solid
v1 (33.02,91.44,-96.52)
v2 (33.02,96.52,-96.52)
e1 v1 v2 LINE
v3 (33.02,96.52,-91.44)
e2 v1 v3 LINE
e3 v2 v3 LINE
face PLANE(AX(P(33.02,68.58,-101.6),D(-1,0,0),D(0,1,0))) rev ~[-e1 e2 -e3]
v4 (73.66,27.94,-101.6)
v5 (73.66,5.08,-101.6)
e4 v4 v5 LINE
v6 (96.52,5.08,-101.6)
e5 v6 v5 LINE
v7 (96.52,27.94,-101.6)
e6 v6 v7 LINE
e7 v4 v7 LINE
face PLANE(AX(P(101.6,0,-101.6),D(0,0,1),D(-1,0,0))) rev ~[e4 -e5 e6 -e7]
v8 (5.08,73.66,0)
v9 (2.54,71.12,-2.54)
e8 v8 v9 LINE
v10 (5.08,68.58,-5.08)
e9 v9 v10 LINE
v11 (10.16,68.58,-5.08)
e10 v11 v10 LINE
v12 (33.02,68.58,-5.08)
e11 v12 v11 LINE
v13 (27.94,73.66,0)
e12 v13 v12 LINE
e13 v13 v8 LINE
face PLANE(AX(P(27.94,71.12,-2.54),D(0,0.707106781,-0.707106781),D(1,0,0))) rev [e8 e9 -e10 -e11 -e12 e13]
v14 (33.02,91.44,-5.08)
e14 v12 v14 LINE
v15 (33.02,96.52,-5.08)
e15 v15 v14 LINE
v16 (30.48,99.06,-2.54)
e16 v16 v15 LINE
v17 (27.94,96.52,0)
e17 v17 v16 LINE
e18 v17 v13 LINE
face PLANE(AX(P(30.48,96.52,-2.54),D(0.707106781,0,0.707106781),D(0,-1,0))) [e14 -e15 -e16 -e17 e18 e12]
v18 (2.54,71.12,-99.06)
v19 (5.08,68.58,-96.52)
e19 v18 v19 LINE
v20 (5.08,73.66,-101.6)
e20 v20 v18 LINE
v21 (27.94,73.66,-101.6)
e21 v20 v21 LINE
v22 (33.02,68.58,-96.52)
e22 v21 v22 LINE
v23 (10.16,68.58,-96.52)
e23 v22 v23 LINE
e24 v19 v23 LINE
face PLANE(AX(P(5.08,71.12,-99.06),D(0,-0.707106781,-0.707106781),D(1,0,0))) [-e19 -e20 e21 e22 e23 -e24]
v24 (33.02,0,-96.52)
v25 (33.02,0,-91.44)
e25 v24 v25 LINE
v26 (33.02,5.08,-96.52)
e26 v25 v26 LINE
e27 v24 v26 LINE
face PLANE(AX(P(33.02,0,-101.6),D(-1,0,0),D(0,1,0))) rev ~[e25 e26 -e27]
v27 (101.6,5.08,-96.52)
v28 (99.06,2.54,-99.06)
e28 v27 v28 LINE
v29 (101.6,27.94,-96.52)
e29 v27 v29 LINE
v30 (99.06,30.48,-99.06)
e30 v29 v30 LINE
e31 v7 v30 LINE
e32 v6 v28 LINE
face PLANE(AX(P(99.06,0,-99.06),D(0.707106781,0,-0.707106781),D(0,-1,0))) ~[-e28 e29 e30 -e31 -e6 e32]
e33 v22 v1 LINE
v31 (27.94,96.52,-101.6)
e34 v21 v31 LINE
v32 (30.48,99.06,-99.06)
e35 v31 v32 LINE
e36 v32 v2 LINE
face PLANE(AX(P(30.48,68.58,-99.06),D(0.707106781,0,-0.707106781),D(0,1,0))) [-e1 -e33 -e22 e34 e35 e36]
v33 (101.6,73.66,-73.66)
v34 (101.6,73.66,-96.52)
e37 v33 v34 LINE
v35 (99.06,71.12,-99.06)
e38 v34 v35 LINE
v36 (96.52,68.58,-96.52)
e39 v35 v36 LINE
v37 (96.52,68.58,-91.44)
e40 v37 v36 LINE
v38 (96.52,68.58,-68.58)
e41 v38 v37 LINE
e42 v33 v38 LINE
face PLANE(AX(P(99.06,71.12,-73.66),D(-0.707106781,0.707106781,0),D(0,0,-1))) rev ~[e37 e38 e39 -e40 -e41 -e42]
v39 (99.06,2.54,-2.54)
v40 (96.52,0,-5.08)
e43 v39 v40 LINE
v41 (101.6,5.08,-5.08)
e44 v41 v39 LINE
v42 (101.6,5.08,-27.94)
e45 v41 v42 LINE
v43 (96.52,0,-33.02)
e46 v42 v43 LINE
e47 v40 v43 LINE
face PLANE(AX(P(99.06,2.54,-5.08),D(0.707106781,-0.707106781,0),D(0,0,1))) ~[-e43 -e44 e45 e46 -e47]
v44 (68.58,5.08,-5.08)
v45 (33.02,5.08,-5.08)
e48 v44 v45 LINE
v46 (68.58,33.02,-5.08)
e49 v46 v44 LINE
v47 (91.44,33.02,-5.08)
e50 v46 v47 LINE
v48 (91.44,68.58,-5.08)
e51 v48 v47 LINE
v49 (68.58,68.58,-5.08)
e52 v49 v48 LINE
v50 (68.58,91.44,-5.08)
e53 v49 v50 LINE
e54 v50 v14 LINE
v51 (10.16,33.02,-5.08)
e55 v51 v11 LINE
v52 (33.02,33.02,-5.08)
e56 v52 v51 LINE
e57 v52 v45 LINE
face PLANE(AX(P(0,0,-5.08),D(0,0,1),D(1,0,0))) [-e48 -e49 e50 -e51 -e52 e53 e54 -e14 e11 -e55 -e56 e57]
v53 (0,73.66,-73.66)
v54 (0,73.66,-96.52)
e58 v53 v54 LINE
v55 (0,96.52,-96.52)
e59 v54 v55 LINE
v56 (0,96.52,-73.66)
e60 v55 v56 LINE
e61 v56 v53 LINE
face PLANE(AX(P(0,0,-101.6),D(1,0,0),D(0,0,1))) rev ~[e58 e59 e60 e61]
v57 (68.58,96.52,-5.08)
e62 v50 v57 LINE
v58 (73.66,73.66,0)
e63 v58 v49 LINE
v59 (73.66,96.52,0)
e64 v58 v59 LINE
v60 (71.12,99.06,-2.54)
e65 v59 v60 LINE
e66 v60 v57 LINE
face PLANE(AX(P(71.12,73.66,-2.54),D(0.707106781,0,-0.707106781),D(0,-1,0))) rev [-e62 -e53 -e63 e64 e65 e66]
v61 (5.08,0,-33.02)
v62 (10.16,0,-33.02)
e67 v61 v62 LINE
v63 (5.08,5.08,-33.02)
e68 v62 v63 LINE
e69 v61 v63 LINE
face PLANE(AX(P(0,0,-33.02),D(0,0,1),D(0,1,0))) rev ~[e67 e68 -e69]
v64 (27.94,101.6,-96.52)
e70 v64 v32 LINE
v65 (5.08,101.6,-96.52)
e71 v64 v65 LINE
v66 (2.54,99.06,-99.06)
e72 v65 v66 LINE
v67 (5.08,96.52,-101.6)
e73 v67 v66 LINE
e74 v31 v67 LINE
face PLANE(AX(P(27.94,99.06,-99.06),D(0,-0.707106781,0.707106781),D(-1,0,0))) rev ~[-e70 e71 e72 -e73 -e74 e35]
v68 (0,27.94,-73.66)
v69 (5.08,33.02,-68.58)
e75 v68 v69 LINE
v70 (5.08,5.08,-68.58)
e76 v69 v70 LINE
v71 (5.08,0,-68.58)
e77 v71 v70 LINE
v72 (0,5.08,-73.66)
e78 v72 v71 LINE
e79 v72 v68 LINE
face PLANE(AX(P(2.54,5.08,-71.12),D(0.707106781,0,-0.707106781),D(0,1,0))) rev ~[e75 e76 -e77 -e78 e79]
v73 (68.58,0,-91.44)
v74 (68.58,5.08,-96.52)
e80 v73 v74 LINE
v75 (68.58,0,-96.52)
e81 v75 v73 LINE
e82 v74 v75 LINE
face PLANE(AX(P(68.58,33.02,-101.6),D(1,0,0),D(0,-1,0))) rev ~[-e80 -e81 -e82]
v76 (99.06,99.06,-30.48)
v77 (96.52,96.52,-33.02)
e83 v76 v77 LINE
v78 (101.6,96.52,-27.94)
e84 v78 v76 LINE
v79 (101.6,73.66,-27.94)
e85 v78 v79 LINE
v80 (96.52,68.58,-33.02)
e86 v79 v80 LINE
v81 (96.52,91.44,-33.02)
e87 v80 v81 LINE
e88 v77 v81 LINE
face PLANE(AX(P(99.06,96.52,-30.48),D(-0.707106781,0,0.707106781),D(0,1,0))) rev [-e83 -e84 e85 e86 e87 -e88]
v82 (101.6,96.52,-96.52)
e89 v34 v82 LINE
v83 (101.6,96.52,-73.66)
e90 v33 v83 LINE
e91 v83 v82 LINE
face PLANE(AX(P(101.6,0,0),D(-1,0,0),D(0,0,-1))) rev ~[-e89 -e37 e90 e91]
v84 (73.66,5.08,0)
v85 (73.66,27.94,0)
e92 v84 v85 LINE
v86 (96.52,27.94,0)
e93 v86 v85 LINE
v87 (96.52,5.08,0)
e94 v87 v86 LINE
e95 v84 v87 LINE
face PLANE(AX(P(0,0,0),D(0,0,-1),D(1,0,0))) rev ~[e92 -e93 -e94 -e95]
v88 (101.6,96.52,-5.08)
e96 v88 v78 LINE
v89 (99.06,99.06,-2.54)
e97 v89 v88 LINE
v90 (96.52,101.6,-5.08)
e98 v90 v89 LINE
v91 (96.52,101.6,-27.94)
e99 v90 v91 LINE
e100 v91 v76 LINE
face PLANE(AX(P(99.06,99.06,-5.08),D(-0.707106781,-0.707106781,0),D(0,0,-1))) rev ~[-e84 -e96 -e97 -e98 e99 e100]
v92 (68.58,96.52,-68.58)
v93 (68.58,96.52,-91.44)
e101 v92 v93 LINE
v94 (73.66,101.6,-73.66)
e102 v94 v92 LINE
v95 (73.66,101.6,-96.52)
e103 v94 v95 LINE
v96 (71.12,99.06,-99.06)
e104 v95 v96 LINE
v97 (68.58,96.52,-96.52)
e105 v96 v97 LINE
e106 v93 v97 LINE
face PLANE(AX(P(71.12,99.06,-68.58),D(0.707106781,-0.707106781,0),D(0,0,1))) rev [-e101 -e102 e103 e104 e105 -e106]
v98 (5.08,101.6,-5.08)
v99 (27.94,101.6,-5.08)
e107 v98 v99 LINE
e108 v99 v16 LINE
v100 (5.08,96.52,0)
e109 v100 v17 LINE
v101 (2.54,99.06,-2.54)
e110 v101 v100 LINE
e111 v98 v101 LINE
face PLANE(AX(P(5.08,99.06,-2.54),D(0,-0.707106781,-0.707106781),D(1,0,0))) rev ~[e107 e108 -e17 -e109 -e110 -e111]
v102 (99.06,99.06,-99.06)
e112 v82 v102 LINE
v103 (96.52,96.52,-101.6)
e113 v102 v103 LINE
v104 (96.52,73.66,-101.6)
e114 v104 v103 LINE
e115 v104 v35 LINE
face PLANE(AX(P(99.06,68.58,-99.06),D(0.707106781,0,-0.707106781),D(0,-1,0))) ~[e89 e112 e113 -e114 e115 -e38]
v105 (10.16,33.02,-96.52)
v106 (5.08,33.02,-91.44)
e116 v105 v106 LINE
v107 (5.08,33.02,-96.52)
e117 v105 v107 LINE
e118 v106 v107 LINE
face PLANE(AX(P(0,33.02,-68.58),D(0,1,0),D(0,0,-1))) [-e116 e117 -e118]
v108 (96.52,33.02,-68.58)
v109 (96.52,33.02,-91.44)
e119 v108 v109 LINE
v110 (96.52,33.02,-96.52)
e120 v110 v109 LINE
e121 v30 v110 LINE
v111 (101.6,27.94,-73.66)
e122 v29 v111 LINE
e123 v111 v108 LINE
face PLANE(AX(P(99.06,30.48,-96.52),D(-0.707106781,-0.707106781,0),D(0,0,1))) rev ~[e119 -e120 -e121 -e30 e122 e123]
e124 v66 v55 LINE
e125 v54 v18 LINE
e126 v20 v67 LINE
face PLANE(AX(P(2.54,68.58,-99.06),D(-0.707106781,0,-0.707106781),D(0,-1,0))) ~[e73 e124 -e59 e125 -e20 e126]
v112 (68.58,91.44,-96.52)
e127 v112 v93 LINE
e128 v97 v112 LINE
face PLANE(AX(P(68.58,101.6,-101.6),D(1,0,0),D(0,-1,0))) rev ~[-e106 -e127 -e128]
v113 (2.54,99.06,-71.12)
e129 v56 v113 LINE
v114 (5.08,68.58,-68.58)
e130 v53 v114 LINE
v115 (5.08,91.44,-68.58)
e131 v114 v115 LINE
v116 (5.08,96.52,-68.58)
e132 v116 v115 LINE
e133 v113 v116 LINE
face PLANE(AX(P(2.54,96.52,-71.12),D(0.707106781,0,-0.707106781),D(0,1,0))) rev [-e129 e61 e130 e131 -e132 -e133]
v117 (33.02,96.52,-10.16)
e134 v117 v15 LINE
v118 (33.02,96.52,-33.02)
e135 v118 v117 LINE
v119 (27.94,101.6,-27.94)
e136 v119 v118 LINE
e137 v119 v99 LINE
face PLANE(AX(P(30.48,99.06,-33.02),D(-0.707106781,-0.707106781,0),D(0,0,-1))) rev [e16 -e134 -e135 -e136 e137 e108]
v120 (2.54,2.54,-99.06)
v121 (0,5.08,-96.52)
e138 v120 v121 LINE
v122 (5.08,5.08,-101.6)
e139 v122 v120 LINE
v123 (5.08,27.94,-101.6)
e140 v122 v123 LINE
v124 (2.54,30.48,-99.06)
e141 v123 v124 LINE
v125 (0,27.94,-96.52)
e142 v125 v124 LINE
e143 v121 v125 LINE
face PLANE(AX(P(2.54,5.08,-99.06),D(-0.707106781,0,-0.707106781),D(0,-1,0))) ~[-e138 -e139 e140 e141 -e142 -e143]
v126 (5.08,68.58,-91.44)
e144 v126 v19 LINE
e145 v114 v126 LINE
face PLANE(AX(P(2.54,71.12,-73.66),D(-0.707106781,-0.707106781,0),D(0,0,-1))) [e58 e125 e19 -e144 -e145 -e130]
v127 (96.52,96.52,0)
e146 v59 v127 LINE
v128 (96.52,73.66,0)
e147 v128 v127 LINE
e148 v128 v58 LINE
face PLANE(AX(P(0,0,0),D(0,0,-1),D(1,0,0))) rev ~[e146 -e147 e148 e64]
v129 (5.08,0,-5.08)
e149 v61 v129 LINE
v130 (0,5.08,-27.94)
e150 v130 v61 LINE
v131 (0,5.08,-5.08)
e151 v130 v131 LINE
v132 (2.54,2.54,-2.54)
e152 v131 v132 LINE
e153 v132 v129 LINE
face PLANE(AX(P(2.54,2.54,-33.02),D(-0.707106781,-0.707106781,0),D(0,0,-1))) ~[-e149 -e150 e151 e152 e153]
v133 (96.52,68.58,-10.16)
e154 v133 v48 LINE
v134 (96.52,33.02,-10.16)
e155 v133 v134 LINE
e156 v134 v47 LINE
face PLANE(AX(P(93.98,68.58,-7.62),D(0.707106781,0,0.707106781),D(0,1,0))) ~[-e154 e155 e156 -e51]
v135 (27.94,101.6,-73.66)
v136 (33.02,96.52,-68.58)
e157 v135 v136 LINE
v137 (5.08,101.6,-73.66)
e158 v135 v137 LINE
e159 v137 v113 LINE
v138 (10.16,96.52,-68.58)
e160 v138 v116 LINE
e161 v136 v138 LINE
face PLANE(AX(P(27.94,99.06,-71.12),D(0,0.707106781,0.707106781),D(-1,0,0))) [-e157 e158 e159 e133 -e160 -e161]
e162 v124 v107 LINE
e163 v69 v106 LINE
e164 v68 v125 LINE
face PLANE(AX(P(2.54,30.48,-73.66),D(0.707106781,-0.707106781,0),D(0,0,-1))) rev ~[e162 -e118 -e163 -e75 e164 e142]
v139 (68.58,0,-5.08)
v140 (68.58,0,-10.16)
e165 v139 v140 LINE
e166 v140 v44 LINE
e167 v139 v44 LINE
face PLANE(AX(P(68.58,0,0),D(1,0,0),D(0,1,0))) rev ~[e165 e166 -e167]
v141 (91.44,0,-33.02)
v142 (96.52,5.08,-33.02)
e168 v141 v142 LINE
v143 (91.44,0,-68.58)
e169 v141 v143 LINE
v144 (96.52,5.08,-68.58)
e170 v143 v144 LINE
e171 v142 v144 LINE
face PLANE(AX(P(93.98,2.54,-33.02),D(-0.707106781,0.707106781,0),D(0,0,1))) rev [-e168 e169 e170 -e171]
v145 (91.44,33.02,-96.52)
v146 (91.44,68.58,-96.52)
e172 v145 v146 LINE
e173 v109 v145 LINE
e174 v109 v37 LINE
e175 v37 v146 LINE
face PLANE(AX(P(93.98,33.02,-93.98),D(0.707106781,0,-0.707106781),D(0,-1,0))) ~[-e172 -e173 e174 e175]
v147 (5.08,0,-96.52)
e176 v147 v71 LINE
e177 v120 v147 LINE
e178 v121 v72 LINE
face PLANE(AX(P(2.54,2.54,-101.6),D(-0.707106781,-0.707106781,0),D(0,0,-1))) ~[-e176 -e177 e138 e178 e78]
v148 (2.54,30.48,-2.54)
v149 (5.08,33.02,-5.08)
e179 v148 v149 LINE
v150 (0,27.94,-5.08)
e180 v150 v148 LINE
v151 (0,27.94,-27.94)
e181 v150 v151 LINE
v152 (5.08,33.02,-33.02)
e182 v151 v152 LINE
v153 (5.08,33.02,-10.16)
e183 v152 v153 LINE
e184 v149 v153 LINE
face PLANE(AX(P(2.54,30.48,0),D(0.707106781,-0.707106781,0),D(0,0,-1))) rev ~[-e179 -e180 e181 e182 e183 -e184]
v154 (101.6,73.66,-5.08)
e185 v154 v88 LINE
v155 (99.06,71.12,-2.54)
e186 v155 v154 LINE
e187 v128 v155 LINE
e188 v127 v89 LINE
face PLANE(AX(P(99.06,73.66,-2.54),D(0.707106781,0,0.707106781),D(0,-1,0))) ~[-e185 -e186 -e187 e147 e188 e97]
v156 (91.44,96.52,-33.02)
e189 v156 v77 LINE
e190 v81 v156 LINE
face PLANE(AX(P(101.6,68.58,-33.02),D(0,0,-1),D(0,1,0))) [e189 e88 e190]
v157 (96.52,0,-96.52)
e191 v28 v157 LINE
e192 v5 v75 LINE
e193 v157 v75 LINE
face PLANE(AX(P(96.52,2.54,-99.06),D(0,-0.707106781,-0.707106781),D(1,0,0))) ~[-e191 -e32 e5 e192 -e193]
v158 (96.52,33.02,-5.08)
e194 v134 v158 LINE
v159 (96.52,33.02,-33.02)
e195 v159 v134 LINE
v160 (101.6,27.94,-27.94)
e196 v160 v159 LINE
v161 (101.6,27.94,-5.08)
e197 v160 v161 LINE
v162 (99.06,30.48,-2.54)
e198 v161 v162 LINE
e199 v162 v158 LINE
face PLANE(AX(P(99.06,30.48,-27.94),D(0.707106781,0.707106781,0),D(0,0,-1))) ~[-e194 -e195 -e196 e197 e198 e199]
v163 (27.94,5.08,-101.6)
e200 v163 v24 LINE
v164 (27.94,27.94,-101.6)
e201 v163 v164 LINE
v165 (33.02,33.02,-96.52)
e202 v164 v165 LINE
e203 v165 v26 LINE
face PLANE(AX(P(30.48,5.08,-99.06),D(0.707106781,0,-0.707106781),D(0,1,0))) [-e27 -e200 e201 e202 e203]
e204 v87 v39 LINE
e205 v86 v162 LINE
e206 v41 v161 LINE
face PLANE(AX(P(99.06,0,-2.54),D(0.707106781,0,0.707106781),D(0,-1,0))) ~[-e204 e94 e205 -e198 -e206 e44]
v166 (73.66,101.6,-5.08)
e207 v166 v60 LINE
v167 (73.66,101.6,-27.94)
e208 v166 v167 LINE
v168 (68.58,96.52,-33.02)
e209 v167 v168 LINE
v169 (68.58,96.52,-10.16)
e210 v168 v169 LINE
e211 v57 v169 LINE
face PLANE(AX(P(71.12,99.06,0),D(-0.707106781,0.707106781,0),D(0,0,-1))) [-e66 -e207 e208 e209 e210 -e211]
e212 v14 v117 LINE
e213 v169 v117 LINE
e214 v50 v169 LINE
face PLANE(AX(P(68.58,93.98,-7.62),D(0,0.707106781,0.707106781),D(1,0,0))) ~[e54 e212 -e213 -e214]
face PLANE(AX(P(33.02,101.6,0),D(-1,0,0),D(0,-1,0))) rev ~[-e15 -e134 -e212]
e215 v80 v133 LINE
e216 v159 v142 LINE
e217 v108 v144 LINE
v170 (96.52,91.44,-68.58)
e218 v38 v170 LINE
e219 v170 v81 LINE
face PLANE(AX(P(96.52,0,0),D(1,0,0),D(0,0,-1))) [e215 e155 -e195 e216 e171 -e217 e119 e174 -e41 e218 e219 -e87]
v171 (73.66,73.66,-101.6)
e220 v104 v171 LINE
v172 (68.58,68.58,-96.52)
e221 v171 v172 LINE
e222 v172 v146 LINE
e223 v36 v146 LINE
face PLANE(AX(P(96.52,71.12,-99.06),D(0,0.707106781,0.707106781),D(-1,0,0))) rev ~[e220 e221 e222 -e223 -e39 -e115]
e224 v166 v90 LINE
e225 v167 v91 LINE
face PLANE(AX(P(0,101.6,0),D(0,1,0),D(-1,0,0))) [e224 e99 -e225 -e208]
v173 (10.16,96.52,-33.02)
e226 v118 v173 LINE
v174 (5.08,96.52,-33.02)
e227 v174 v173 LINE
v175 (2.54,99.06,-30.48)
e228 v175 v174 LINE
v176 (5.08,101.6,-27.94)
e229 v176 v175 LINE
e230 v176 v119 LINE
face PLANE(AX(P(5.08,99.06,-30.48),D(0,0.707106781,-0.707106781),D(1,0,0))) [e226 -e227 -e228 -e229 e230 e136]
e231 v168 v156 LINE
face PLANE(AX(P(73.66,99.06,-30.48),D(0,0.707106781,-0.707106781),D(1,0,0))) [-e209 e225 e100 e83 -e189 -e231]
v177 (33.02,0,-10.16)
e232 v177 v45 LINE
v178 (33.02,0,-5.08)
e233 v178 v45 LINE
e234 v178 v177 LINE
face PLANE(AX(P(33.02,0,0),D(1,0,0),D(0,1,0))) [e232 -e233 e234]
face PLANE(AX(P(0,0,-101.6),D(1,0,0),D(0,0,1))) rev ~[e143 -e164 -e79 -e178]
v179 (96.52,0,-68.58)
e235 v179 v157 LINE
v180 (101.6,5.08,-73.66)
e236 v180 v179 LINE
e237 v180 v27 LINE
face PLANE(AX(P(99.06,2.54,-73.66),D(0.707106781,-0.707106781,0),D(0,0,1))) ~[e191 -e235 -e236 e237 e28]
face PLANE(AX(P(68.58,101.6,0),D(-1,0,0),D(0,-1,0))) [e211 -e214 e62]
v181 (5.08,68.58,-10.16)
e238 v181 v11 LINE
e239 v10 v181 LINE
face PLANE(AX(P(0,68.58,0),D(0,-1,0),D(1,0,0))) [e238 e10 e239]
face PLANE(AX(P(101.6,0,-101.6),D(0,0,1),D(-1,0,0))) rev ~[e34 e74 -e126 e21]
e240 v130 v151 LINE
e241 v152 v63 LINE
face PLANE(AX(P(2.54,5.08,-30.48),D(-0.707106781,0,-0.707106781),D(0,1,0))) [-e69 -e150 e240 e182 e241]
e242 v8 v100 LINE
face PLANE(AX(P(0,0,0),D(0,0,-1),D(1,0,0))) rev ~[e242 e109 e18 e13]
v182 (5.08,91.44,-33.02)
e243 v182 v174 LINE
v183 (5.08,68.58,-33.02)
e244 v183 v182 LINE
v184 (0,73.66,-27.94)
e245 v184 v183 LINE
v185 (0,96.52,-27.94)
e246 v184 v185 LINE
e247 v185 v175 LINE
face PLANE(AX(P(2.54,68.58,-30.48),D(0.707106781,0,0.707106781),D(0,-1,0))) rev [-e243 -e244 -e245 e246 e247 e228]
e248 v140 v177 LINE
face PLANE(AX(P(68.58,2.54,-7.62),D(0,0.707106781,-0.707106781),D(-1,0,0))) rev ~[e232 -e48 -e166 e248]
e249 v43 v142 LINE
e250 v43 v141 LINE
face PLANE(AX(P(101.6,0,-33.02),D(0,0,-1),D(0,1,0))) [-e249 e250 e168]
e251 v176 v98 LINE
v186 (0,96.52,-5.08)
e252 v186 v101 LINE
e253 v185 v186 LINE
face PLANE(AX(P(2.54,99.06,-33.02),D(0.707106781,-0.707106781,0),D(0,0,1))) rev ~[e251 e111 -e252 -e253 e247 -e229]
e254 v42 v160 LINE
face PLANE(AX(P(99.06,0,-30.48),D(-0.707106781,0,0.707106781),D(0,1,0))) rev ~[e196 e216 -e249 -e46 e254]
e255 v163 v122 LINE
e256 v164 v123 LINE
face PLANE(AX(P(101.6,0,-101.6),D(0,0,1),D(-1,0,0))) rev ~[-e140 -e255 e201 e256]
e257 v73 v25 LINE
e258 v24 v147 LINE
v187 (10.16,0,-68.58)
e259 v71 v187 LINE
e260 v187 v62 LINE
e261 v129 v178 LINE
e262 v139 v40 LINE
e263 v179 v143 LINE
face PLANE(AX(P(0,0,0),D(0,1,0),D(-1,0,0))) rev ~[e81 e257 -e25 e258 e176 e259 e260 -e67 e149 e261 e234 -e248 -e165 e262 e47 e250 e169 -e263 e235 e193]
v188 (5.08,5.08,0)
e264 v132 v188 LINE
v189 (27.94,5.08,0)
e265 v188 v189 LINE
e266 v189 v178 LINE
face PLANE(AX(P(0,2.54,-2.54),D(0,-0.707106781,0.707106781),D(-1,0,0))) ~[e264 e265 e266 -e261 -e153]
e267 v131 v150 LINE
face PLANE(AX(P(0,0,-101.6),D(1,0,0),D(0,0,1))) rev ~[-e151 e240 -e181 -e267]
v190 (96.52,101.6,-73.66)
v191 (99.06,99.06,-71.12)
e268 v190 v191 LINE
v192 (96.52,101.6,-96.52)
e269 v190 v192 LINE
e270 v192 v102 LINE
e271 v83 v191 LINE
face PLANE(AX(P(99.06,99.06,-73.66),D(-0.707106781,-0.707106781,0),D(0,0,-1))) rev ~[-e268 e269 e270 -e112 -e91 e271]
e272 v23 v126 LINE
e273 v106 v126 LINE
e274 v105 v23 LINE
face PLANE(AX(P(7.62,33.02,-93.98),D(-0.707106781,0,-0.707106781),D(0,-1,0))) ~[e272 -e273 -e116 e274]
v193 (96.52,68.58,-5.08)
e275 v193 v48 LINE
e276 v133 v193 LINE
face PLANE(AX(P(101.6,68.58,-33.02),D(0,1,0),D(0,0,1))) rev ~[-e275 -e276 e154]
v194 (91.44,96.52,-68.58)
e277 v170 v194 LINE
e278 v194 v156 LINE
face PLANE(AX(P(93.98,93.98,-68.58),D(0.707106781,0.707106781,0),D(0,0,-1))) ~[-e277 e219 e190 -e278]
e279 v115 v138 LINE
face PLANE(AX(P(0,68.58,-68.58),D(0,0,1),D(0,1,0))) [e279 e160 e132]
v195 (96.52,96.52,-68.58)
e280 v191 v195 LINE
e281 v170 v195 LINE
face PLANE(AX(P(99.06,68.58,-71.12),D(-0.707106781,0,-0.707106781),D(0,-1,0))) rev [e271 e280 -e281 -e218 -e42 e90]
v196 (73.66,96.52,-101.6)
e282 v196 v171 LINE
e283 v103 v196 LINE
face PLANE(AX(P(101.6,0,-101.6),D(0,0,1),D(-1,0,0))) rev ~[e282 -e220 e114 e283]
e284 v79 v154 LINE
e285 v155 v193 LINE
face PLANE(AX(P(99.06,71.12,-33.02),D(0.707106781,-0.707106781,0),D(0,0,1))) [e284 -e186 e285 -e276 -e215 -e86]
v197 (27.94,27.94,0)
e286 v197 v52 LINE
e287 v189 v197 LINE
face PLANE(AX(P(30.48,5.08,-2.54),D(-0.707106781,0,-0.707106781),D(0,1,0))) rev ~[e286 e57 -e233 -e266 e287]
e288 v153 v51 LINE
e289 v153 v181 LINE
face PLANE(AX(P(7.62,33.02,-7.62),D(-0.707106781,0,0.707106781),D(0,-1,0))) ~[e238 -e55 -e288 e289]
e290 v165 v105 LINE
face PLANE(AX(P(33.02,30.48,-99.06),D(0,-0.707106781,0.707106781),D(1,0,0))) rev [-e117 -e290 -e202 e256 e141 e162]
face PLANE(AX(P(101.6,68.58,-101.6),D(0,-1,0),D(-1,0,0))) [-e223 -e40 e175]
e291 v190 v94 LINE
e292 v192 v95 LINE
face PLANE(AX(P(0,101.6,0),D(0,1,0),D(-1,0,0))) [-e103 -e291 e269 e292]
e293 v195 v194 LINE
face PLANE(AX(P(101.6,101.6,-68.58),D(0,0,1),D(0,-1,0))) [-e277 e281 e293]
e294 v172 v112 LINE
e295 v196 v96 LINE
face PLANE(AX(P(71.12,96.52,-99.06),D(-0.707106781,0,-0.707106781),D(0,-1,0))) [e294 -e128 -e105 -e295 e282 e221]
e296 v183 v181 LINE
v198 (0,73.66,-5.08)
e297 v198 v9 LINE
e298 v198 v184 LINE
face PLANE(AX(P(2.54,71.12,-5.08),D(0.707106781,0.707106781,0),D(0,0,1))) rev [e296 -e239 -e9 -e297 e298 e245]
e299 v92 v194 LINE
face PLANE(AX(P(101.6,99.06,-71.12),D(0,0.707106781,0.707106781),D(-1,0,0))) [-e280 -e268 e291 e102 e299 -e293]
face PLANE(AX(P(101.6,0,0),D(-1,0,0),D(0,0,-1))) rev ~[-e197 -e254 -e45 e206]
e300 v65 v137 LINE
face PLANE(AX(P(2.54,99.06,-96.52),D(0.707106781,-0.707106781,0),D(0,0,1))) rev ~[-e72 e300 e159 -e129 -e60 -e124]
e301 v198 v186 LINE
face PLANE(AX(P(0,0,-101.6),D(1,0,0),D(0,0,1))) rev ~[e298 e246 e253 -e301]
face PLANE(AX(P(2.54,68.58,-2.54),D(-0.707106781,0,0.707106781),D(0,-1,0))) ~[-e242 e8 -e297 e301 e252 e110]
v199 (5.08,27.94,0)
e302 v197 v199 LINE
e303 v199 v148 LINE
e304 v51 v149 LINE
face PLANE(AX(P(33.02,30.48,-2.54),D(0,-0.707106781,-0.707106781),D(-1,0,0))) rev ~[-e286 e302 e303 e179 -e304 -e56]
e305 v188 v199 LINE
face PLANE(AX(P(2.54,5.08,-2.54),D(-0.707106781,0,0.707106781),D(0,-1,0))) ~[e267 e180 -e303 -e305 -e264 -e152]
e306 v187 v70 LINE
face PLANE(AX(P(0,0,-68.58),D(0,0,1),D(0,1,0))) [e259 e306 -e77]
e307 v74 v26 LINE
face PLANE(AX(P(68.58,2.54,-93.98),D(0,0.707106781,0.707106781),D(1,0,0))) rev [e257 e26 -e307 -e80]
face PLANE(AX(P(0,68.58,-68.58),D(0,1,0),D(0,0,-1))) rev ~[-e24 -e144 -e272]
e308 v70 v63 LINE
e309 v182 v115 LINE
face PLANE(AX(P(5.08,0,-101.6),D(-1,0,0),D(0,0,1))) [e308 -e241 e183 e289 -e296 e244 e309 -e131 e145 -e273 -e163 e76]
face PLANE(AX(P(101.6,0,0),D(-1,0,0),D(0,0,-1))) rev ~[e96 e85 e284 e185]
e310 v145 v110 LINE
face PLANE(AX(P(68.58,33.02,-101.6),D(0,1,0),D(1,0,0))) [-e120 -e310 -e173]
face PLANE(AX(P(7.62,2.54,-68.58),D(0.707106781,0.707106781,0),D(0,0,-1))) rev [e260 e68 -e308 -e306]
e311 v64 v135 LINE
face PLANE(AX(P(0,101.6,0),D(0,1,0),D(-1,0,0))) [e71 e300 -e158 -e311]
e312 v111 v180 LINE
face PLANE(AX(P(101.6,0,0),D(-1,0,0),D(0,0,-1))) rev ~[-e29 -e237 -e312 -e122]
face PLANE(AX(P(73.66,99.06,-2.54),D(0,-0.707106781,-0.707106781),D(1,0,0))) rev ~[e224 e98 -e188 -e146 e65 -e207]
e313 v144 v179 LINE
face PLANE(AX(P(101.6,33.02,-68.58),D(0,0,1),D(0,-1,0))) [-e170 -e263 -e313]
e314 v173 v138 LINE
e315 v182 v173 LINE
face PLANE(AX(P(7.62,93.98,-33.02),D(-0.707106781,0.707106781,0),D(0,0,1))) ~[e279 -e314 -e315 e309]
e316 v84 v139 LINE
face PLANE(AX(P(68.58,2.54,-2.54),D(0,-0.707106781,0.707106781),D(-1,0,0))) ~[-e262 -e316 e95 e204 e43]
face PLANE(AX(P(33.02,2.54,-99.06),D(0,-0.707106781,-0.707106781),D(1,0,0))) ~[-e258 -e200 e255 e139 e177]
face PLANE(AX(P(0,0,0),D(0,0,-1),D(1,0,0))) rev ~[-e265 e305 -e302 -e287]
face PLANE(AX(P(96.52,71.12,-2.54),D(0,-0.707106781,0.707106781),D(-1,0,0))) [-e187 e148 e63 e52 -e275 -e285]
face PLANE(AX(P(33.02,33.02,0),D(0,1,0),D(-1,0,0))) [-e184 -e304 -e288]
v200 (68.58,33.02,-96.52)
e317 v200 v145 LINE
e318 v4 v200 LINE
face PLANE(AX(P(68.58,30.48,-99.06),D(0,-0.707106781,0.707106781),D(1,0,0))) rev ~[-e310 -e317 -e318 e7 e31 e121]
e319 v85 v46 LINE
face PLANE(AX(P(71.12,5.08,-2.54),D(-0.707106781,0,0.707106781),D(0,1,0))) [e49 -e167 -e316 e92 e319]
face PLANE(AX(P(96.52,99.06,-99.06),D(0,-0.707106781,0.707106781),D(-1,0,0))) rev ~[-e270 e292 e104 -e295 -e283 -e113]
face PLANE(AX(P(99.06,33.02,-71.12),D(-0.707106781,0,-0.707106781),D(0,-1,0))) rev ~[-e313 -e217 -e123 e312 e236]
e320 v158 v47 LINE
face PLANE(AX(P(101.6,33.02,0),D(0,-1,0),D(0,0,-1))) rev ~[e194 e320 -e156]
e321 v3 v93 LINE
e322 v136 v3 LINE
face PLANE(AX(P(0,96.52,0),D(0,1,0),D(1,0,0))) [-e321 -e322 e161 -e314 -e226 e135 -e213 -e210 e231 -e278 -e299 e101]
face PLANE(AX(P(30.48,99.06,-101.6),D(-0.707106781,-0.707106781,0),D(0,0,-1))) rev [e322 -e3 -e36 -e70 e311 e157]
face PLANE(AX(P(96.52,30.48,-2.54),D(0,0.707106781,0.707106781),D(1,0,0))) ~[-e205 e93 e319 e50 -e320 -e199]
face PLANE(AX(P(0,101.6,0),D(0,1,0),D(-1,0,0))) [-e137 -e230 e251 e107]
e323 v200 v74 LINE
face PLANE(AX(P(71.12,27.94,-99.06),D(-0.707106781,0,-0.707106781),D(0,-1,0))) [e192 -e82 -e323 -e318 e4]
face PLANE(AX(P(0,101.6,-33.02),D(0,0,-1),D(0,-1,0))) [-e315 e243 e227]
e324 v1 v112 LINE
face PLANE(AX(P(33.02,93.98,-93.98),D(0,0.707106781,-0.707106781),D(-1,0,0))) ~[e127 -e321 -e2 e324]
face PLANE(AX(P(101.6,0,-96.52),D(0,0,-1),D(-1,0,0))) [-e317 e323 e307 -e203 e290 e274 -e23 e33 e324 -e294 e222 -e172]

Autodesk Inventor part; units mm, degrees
ref_plane "YZ Plane" through (0, 0, 0) normal (1, 0, 0) x (0, 1, 0)
ref_plane "XZ Plane" through (0, 0, 0) normal (0, 1, 0) x (-1, 0, 0)
ref_plane "XY Plane" through (0, 0, 0) normal (0, 0, 1) x (1, 0, 0)
sketch "Sketch1" plane through (0, 0, 0) normal (0, 1, 0) x (-1, 0, 0)
  line L0 (0, 0) -> (-101.6, 0)
  line L1 (-101.6, 0) -> (-101.6, -101.6)
  line L2 (-101.6, -101.6) -> (0, -101.6)
  line L3 (0, -101.6) -> (0, 0)
  dimension "d0" = 101.6
  dimension "d1" = 101.6
extrude "Extrusion1" add sketch "Sketch1" along normal blind 101.6
sketch "Sketch2" plane through (101.6, 0, 0) normal (1, 0, 0) x (0, 0, -1)
  line L0 (0, 0) -> (33.02, 0)
  line L1 (0, 0) -> (101.6, 0) projected
  line L2 (0, 0) -> (0, 33.02)
  line L3 (0, 0) -> (0, 101.6) projected
  line L4 (0, 101.6) -> (0, 68.58)
  line L5 (0, 101.6) -> (33.02, 101.6)
  line L6 (0, 101.6) -> (101.6, 101.6) projected
  line L7 (101.6, 101.6) -> (68.58, 101.6)
  line L8 (101.6, 0) -> (101.6, 33.02)
  line L9 (101.6, 0) -> (101.6, 101.6) projected
  line L10 (101.6, 0) -> (68.58, 0)
  line L11 (33.02, 101.6) -> (68.58, 101.6)
  line L12 (68.58, 101.6) -> (68.58, 0)
  line L13 (68.58, 0) -> (33.02, 0)
  line L14 (33.02, 0) -> (33.02, 101.6)
  line L15 (0, 33.02) -> (101.6, 33.02)
  line L16 (101.6, 33.02) -> (101.6, 68.58)
  line L17 (101.6, 68.58) -> (0, 68.58)
  line L18 (0, 68.58) -> (0, 33.02)
  dimension "d4" = 33.02
  dimension "d5" = 33.02
  dimension "d6" = 33.02
  dimension "d7" = 33.02
  dimension "d8" = 33.02
  dimension "d9" = 33.02
  dimension "d10" = 33.02
extrude "Extrusion2" cut sketch "Sketch2" against normal blind 5.08 contours L14 L15 L12 L1 | L3 L17 L14 L15 | L14 L17 L12 L15 | L12 L17 L9 L15 | L14 L6 L12 L17
sketch "Sketch3" plane through (101.6, 0, -101.6) normal (0, 0, -1) x (-1, 0, 0)
  line L0 (0, 0) -> (0, 33.02) projected
  line L1 (0, 0) -> (33.02, 0)
  line L2 (101.6, 0) -> (101.6, 101.6) projected
  line L3 (101.6, 0) -> (68.58, 0)
  line L4 (0, 0) -> (101.6, 0) projected
  line L5 (0, 101.6) -> (33.02, 101.6)
  line L6 (0, 101.6) -> (101.6, 101.6) projected
  line L7 (101.6, 101.6) -> (68.58, 101.6)
  line L8 (33.02, 0) -> (68.58, 0)
  line L9 (68.58, 0) -> (68.58, 101.6)
  line L10 (68.58, 101.6) -> (33.02, 101.6)
  line L11 (33.02, 101.6) -> (33.02, 0)
  line L12 (0, 68.58) -> (5.08, 68.58) projected
  line L13 (0, 68.58) -> (101.6, 68.58)
  line L14 (101.6, 68.58) -> (101.6, 33.02)
  line L15 (101.6, 33.02) -> (0, 33.02)
  line L16 (0, 33.02) -> (0, 68.58)
  dimension "d13" = 33.02
  dimension "d14" = 33.02
  dimension "d15" = 33.02
  dimension "d16" = 33.02
extrude "Extrusion3" cut sketch "Sketch3" against normal blind 5.08 contours L16 L12 L13 L11 L15 | L11 L15 L9 L4 | L11 L13 L9 L15 | L11 L6 L9 L13 | L9 L13 L2 L15
sketch "Sketch4" plane through (0, 0, -101.6) normal (-1, 0, 0) x (0, 0, 1)
  line L0 (33.02, 0) -> (0, 0) projected
  line L1 (0, 0) -> (33.02, 0)
  line L2 (33.02, 101.6) -> (0, 101.6) projected
  line L3 (-0.0001, 101.6) -> (33.02, 101.6)
  line L4 (101.6, 101.6) -> (68.58, 101.6) projected
  line L5 (101.6, 101.6) -> (68.58, 101.6)
  line L6 (101.6, 0) -> (101.6, 101.6) projected
  line L7 (101.6, 0) -> (68.58, 0)
  line L8 (0, 0) -> (101.6, 0) projected
  line L9 (68.58, 0) -> (68.58, 33.02) projected
  line L10 (33.02, 101.6) -> (68.58, 101.6)
  line L11 (68.58, 101.6) -> (68.58, 0)
  line L12 (68.58, 0) -> (33.02, 0)
  line L13 (33.02, 0) -> (33.02, 101.6)
  line L14 (33.02, 68.58) -> (0, 68.58) projected
  line L15 (101.6, 33.02) -> (101.6, 68.58) projected
  line L16 (0, 68.58) -> (101.6, 68.58)
  line L17 (101.6, 68.58) -> (101.6, 33.02)
  line L18 (101.6, 33.02) -> (0, 33.02)
  line L19 (0, 33.02) -> (0, 68.58)
extrude "Extrusion4" cut sketch "Sketch4" against normal blind 5.08 contours L11 L16 L13 L10 | L6 L18 L11 L16 | L11 L18 L13 L16 | L13 L18 L19 L14 | L9 L8 L13 L18
sketch "Sketch5" plane through (0, 0, 0) normal (0, 0, 1) x (1, 0, 0)
  line L0 (0, 0) -> (0, 33.02) projected
  line L1 (33.02, 0) -> (0, 0) projected
  line L2 (0, 0) -> (33.02, 0)
  line L3 (0, 68.58) -> (0, 101.6) projected
  line L4 (33.02, 101.6) -> (33.02, 68.58) projected
  line L5 (0, 101.6) -> (33.02, 101.6)
  line L6 (68.58, 0) -> (68.58, 33.02) projected
  line L7 (33.02, 101.6) -> (68.58, 101.6)
  line L8 (68.58, 101.6) -> (68.58, 0)
  line L9 (68.58, 0) -> (33.02, 0)
  line L10 (33.02, 0) -> (33.02, 101.6)
  line L11 (101.6, 0) -> (101.6, 33.02) projected
  line L12 (0, 68.58) -> (101.6, 68.58)
  line L13 (101.6, 68.58) -> (101.6, 33.02)
  line L14 (101.6, 33.02) -> (0, 33.02)
  line L15 (0, 33.02) -> (0, 68.58)
extrude "Extrusion5" cut sketch "Sketch5" against normal blind 5.08 contours L15 L12 L10 L14 | L10 L14 L6 L9 | L10 L12 L8 L14 | L4 L7 L8 L12 | L8 L12 L13 L14
sketch "Sketch6" plane through (0, 101.6, 0) normal (0, 1, 0) x (1, 0, 0)
  line L0 (68.58, 0) -> (101.6, 0) projected
  line L1 (68.58, 0) -> (33.02, 0)
  line L2 (33.02, 0) -> (33.02, 101.6)
  line L3 (33.02, 101.6) -> (68.58, 101.6)
  line L4 (68.58, 101.6) -> (68.58, 0)
  line L5 (101.6, 33.02) -> (101.6, 0) projected
  line L6 (0, 68.58) -> (5.08, 68.58) projected
  line L7 (101.6, 33.02) -> (0, 33.02)
  line L8 (0, 33.02) -> (0, 68.58)
  line L9 (0, 68.58) -> (101.6, 68.58)
  line L10 (101.6, 68.58) -> (101.6, 33.02)
  point P0 (0, 0)
extrude "Extrusion6" cut sketch "Sketch6" against normal blind 5.08 contours L1 L2 L7 L4 | L7 L2 L9 L4 | L4 L9 L10 L7 | L7 L8 L6 L9 L2 | L9 L2 L3 L4
chamfer "Chamfer42" distance 5.08 distance2 5.08 1 edges at (5.08, 96.52, -50.8) measured on face at (5.08, 44.8733, -56.7267)
chamfer "Chamfer43" distance 5.08 distance2 5.08 1 edges at (50.8, 96.52, -96.52) measured on face at (44.8733, 44.8733, -96.52)
chamfer "Chamfer44" distance 5.08 distance2 5.08 1 edges at (96.52, 96.52, -50.8) measured on face at (96.52, 44.8733, -56.7267)
chamfer "Chamfer45" distance 5.08 distance2 5.08 1 edges at (50.8, 96.52, -5.08) measured on face at (56.7267, 44.8733, -5.08)
chamfer "Chamfer46" distance 5.08 distance2 5.08 1 edges at (5.08, 50.8, -96.52) measured on face at (44.8733, 44.8733, -96.52)
chamfer "Chamfer47" distance 5.08 distance2 5.08 1 edges at (5.08, 50.8, -5.08) measured on face at (5.08, 56.7267, -56.7267)
chamfer "Chamfer48" distance 5.08 distance2 5.08 1 edges at (5.08, 0, -50.8) measured on face at (56.7267, 0, -54.1867)
chamfer "Chamfer49" distance 5.08 distance2 5.08 1 edges at (50.8, 0, -96.52) measured on face at (38.9467, 0, -44.8733)
chamfer "Chamfer50" distance 5.08 distance2 5.08 1 edges at (50.8, 0, -5.08) measured on face at (58.42, 0, -52.4933)
chamfer "Chamfer51" distance 5.08 distance2 5.08 1 edges at (96.52, 0, -50.8) measured on face at (37.2533, 0, -56.7267)
chamfer "Chamfer52" distance 5.08 distance2 5.08 1 edges at (96.52, 50.8, -96.52) measured on face at (96.52, 44.8733, -56.7267)
chamfer "Chamfer53" distance 5.08 distance2 5.08 1 edges at (96.52, 50.8, -5.08) measured on face at (96.52, 44.8733, -44.8733)
chamfer "Chamfer54" distance 5.08 distance2 5.08 1 edges at (68.58, 101.6, -85.09) measured on face at (90.5933, 101.6, -79.5867)
chamfer "Chamfer55" distance 5.08 distance2 5.08 1 edges at (87.63, 101.6, -68.58) measured on face at (82.9733, 101.6, -90.5933)
chamfer "Chamfer56" distance 5.08 distance2 5.08 1 edges at (101.6, 101.6, -87.63) measured on face at (82.9733, 101.6, -92.2867)
chamfer "Chamfer57" distance 5.08 distance2 5.08 1 edges at (85.09, 101.6, -101.6) measured on face at (81.28, 101.6, -92.2867)
chamfer "Chamfer58" distance 5.08 distance2 5.08 1 edges at (68.58, 101.6, -16.51) measured on face at (90.5933, 101.6, -11.0067)
chamfer "Chamfer59" distance 5.08 distance2 5.08 1 edges at (87.63, 101.6, -33.02) measured on face at (92.2867, 101.6, -22.0133)
chamfer "Chamfer60" distance 5.08 distance2 5.08 1 edges at (87.63, 101.6, 0) measured on face at (82.9733, 101.6, -9.3133)
chamfer "Chamfer61" distance 5.08 distance2 5.08 1 edges at (101.6, 101.6, -16.51) measured on face at (92.2867, 101.6, -20.32)
chamfer "Chamfer62" distance 5.08 distance2 5.08 1 edges at (33.02, 101.6, -16.51) measured on face at (22.0133, 101.6, -22.0133)
chamfer "Chamfer63" distance 5.08 distance2 5.08 1 edges at (0, 101.6, -16.51) measured on face at (18.6267, 101.6, -22.0133)
chamfer "Chamfer64" distance 5.08 distance2 5.08 1 edges at (16.51, 101.6, 0) measured on face at (20.32, 101.6, -22.0133)
chamfer "Chamfer65" distance 5.08 distance2 5.08 1 edges at (16.51, 101.6, -33.02) measured on face at (20.32, 101.6, -23.7067)
chamfer "Chamfer66" distance 5.08 distance2 5.08 1 edges at (33.02, 101.6, -85.09) measured on face at (11.0067, 101.6, -90.5933)
chamfer "Chamfer67" distance 5.08 distance2 5.08 1 edges at (13.97, 101.6, -68.58) measured on face at (9.3133, 101.6, -90.5933)
chamfer "Chamfer68" distance 5.08 distance2 5.08 1 edges at (13.97, 101.6, -101.6) measured on face at (9.3133, 101.6, -82.9733)
chamfer "Chamfer69" distance 5.08 distance2 5.08 1 edges at (0, 101.6, -85.09) measured on face at (9.3133, 101.6, -88.9)
chamfer "Chamfer70" distance 5.08 distance2 5.08 1 edges at (101.6, 16.51, 0) measured on face at (79.5867, 11.0067, 0)
chamfer "Chamfer71" distance 5.08 distance2 5.08 1 edges at (101.6, 16.51, -33.02) measured on face at (101.6, 22.0133, -23.7067)
chamfer "Chamfer72" distance 5.08 distance2 5.08 1 edges at (101.6, 68.58, -16.51) measured on face at (101.6, 77.8933, -11.0067)
chamfer "Chamfer73" distance 5.08 distance2 5.08 1 edges at (101.6, 85.09, -33.02) measured on face at (101.6, 81.28, -11.0067)
chamfer "Chamfer74" distance 5.08 distance2 5.08 1 edges at (101.6, 85.09, 0) measured on face at (77.8933, 77.8933, 0)
chamfer "Chamfer75" distance 5.08 distance2 5.08 1 edges at (101.6, 82.55, -68.58) measured on face at (101.6, 77.8933, -79.5867)
chamfer "Chamfer76" distance 5.08 distance2 5.08 1 edges at (101.6, 82.55, -101.6) measured on face at (101.6, 87.2067, -92.2867)
chamfer "Chamfer77" distance 5.08 distance2 5.08 1 edges at (101.6, 68.58, -85.09) measured on face at (101.6, 87.2067, -88.9)
chamfer "Chamfer78" distance 5.08 distance2 5.08 1 edges at (101.6, 16.51, -68.58) measured on face at (101.6, 11.0067, -79.5867)
chamfer "Chamfer79" distance 5.08 distance2 5.08 1 edges at (101.6, 16.51, -101.6) measured on face at (101.6, 11.0067, -82.9733)
chamfer "Chamfer80" distance 5.08 distance2 5.08 1 edges at (101.6, 33.02, -85.09) measured on face at (101.6, 22.0133, -81.28)
chamfer "Chamfer81" distance 5.08 distance2 5.08 1 edges at (101.6, 33.02, -16.51) measured on face at (101.6, 22.0133, -20.32)
chamfer "Chamfer82" distance 5.08 distance2 5.08 1 edges at (101.6, 0, -16.51) measured on face at (101.6, 9.3133, -12.7)
chamfer "Chamfer83" distance 5.08 distance2 5.08 1 edges at (82.55, 0, 0) measured on face at (87.2067, 22.0133, 0)
chamfer "Chamfer84" distance 5.08 distance2 5.08 1 edges at (16.51, 0, 0) measured on face at (22.0133, 22.0133, 0)
chamfer "Chamfer85" distance 5.08 distance2 5.08 1 edges at (0, 0, -19.05) measured on face at (0, 23.7067, -11.0067)
chamfer "Chamfer86" distance 5.08 distance2 5.08 1 edges at (0, 0, -85.09) measured on face at (0, 22.0133, -90.5933)
chamfer "Chamfer87" distance 5.08 distance2 5.08 1 edges at (19.05, 0, -101.6) measured on face at (11.0067, 23.7067, -101.6)
chamfer "Chamfer88" distance 5.08 distance2 5.08 1 edges at (82.55, 0, -101.6) measured on face at (77.8933, 22.0133, -101.6)
chamfer "Chamfer89" distance 5.08 distance2 5.08 1 edges at (101.6, 0, -85.09) measured on face at (101.6, 9.3133, -81.28)
chamfer "Chamfer90" distance 5.08 distance2 5.08 1 edges at (0, 82.55, 0) measured on face at (0, 77.8933, -22.0133)
chamfer "Chamfer91" distance 5.08 distance2 5.08 1 edges at (0, 82.55, -33.02) measured on face at (0, 77.8933, -23.7067)
chamfer "Chamfer92" distance 5.08 distance2 5.08 1 edges at (0, 82.55, -68.58) measured on face at (0, 87.2067, -90.5933)
chamfer "Chamfer93" distance 5.08 distance2 5.08 1 edges at (0, 82.55, -101.6) measured on face at (22.0133, 77.8933, -101.6)
chamfer "Chamfer94" distance 5.08 distance2 5.08 1 edges at (0, 68.58, -85.09) measured on face at (0, 87.2067, -81.28)
chamfer "Chamfer95" distance 5.08 distance2 5.08 1 edges at (0, 68.58, -16.51) measured on face at (0, 87.2067, -12.7)
chamfer "Chamfer96" distance 5.08 distance2 5.08 1 edges at (0, 33.02, -16.51) measured on face at (0, 14.3933, -22.0133)
chamfer "Chamfer97" distance 5.08 distance2 5.08 1 edges at (0, 16.51, -33.02) measured on face at (0, 12.7, -22.0133)
chamfer "Chamfer98" distance 5.08 distance2 5.08 1 edges at (0, 16.51, 0) measured on face at (0, 20.32, -9.3133)
chamfer "Chamfer99" distance 5.08 distance2 5.08 1 edges at (0, 19.05, -68.58) measured on face at (0, 14.3933, -90.5933)
chamfer "Chamfer100" distance 5.08 distance2 5.08 1 edges at (0, 19.05, -101.6) measured on face at (22.0133, 14.3933, -101.6)
chamfer "Chamfer101" distance 5.08 distance2 5.08 1 edges at (0, 33.02, -85.09) measured on face at (0, 23.7067, -88.9)
chamfer "Chamfer102" distance 5.08 distance2 5.08 1 edges at (33.02, 82.55, 0) measured on face at (14.3933, 77.8933, 0)
chamfer "Chamfer103" distance 5.08 distance2 5.08 1 edges at (16.51, 68.58, 0) measured on face at (12.7, 77.8933, 0)
chamfer "Chamfer104" distance 5.08 distance2 5.08 1 edges at (82.55, 68.58, 0) measured on face at (77.8933, 87.2067, 0)
chamfer "Chamfer105" distance 5.08 distance2 5.08 1 edges at (68.58, 85.09, 0) measured on face at (77.8933, 81.28, 0)
chamfer "Chamfer106" distance 5.08 distance2 5.08 1 edges at (19.05, 33.02, 0) measured on face at (23.7067, 23.7067, 0)
chamfer "Chamfer107" distance 5.08 distance2 5.08 1 edges at (33.02, 16.51, 0) measured on face at (23.7067, 12.7, 0)
chamfer "Chamfer108" distance 5.08 distance2 5.08 1 edges at (68.58, 19.05, 0) measured on face at (77.8933, 23.7067, 0)
chamfer "Chamfer109" distance 5.08 distance2 5.08 1 edges at (85.09, 33.02, 0) measured on face at (81.28, 23.7067, 0)
chamfer "Chamfer110" distance 5.08 distance2 5.08 1 edges at (68.58, 82.55, -101.6) measured on face at (87.2067, 87.2067, -101.6)
chamfer "Chamfer111" distance 5.08 distance2 5.08 1 edges at (33.02, 82.55, -101.6) measured on face at (23.7067, 87.2067, -101.6)
chamfer "Chamfer112" distance 5.08 distance2 5.08 1 edges at (85.09, 68.58, -101.6) measured on face at (88.9, 87.2067, -101.6)
chamfer "Chamfer113" distance 5.08 distance2 5.08 1 edges at (16.51, 68.58, -101.6) measured on face at (12.7, 87.2067, -101.6)
chamfer "Chamfer114" distance 5.08 distance2 5.08 1 edges at (82.55, 33.02, -101.6) measured on face at (77.8933, 23.7067, -101.6)
chamfer "Chamfer115" distance 5.08 distance2 5.08 1 edges at (68.58, 16.51, -101.6) measured on face at (77.8933, 20.32, -101.6)
chamfer "Chamfer116" distance 5.08 distance2 5.08 1 edges at (19.05, 33.02, -101.6) measured on face at (23.7067, 14.3933, -101.6)
chamfer "Chamfer117" distance 5.08 distance2 5.08 1 edges at (33.02, 16.51, -101.6) measured on face at (23.7067, 12.7, -101.6)
properties part number "CapStone"
